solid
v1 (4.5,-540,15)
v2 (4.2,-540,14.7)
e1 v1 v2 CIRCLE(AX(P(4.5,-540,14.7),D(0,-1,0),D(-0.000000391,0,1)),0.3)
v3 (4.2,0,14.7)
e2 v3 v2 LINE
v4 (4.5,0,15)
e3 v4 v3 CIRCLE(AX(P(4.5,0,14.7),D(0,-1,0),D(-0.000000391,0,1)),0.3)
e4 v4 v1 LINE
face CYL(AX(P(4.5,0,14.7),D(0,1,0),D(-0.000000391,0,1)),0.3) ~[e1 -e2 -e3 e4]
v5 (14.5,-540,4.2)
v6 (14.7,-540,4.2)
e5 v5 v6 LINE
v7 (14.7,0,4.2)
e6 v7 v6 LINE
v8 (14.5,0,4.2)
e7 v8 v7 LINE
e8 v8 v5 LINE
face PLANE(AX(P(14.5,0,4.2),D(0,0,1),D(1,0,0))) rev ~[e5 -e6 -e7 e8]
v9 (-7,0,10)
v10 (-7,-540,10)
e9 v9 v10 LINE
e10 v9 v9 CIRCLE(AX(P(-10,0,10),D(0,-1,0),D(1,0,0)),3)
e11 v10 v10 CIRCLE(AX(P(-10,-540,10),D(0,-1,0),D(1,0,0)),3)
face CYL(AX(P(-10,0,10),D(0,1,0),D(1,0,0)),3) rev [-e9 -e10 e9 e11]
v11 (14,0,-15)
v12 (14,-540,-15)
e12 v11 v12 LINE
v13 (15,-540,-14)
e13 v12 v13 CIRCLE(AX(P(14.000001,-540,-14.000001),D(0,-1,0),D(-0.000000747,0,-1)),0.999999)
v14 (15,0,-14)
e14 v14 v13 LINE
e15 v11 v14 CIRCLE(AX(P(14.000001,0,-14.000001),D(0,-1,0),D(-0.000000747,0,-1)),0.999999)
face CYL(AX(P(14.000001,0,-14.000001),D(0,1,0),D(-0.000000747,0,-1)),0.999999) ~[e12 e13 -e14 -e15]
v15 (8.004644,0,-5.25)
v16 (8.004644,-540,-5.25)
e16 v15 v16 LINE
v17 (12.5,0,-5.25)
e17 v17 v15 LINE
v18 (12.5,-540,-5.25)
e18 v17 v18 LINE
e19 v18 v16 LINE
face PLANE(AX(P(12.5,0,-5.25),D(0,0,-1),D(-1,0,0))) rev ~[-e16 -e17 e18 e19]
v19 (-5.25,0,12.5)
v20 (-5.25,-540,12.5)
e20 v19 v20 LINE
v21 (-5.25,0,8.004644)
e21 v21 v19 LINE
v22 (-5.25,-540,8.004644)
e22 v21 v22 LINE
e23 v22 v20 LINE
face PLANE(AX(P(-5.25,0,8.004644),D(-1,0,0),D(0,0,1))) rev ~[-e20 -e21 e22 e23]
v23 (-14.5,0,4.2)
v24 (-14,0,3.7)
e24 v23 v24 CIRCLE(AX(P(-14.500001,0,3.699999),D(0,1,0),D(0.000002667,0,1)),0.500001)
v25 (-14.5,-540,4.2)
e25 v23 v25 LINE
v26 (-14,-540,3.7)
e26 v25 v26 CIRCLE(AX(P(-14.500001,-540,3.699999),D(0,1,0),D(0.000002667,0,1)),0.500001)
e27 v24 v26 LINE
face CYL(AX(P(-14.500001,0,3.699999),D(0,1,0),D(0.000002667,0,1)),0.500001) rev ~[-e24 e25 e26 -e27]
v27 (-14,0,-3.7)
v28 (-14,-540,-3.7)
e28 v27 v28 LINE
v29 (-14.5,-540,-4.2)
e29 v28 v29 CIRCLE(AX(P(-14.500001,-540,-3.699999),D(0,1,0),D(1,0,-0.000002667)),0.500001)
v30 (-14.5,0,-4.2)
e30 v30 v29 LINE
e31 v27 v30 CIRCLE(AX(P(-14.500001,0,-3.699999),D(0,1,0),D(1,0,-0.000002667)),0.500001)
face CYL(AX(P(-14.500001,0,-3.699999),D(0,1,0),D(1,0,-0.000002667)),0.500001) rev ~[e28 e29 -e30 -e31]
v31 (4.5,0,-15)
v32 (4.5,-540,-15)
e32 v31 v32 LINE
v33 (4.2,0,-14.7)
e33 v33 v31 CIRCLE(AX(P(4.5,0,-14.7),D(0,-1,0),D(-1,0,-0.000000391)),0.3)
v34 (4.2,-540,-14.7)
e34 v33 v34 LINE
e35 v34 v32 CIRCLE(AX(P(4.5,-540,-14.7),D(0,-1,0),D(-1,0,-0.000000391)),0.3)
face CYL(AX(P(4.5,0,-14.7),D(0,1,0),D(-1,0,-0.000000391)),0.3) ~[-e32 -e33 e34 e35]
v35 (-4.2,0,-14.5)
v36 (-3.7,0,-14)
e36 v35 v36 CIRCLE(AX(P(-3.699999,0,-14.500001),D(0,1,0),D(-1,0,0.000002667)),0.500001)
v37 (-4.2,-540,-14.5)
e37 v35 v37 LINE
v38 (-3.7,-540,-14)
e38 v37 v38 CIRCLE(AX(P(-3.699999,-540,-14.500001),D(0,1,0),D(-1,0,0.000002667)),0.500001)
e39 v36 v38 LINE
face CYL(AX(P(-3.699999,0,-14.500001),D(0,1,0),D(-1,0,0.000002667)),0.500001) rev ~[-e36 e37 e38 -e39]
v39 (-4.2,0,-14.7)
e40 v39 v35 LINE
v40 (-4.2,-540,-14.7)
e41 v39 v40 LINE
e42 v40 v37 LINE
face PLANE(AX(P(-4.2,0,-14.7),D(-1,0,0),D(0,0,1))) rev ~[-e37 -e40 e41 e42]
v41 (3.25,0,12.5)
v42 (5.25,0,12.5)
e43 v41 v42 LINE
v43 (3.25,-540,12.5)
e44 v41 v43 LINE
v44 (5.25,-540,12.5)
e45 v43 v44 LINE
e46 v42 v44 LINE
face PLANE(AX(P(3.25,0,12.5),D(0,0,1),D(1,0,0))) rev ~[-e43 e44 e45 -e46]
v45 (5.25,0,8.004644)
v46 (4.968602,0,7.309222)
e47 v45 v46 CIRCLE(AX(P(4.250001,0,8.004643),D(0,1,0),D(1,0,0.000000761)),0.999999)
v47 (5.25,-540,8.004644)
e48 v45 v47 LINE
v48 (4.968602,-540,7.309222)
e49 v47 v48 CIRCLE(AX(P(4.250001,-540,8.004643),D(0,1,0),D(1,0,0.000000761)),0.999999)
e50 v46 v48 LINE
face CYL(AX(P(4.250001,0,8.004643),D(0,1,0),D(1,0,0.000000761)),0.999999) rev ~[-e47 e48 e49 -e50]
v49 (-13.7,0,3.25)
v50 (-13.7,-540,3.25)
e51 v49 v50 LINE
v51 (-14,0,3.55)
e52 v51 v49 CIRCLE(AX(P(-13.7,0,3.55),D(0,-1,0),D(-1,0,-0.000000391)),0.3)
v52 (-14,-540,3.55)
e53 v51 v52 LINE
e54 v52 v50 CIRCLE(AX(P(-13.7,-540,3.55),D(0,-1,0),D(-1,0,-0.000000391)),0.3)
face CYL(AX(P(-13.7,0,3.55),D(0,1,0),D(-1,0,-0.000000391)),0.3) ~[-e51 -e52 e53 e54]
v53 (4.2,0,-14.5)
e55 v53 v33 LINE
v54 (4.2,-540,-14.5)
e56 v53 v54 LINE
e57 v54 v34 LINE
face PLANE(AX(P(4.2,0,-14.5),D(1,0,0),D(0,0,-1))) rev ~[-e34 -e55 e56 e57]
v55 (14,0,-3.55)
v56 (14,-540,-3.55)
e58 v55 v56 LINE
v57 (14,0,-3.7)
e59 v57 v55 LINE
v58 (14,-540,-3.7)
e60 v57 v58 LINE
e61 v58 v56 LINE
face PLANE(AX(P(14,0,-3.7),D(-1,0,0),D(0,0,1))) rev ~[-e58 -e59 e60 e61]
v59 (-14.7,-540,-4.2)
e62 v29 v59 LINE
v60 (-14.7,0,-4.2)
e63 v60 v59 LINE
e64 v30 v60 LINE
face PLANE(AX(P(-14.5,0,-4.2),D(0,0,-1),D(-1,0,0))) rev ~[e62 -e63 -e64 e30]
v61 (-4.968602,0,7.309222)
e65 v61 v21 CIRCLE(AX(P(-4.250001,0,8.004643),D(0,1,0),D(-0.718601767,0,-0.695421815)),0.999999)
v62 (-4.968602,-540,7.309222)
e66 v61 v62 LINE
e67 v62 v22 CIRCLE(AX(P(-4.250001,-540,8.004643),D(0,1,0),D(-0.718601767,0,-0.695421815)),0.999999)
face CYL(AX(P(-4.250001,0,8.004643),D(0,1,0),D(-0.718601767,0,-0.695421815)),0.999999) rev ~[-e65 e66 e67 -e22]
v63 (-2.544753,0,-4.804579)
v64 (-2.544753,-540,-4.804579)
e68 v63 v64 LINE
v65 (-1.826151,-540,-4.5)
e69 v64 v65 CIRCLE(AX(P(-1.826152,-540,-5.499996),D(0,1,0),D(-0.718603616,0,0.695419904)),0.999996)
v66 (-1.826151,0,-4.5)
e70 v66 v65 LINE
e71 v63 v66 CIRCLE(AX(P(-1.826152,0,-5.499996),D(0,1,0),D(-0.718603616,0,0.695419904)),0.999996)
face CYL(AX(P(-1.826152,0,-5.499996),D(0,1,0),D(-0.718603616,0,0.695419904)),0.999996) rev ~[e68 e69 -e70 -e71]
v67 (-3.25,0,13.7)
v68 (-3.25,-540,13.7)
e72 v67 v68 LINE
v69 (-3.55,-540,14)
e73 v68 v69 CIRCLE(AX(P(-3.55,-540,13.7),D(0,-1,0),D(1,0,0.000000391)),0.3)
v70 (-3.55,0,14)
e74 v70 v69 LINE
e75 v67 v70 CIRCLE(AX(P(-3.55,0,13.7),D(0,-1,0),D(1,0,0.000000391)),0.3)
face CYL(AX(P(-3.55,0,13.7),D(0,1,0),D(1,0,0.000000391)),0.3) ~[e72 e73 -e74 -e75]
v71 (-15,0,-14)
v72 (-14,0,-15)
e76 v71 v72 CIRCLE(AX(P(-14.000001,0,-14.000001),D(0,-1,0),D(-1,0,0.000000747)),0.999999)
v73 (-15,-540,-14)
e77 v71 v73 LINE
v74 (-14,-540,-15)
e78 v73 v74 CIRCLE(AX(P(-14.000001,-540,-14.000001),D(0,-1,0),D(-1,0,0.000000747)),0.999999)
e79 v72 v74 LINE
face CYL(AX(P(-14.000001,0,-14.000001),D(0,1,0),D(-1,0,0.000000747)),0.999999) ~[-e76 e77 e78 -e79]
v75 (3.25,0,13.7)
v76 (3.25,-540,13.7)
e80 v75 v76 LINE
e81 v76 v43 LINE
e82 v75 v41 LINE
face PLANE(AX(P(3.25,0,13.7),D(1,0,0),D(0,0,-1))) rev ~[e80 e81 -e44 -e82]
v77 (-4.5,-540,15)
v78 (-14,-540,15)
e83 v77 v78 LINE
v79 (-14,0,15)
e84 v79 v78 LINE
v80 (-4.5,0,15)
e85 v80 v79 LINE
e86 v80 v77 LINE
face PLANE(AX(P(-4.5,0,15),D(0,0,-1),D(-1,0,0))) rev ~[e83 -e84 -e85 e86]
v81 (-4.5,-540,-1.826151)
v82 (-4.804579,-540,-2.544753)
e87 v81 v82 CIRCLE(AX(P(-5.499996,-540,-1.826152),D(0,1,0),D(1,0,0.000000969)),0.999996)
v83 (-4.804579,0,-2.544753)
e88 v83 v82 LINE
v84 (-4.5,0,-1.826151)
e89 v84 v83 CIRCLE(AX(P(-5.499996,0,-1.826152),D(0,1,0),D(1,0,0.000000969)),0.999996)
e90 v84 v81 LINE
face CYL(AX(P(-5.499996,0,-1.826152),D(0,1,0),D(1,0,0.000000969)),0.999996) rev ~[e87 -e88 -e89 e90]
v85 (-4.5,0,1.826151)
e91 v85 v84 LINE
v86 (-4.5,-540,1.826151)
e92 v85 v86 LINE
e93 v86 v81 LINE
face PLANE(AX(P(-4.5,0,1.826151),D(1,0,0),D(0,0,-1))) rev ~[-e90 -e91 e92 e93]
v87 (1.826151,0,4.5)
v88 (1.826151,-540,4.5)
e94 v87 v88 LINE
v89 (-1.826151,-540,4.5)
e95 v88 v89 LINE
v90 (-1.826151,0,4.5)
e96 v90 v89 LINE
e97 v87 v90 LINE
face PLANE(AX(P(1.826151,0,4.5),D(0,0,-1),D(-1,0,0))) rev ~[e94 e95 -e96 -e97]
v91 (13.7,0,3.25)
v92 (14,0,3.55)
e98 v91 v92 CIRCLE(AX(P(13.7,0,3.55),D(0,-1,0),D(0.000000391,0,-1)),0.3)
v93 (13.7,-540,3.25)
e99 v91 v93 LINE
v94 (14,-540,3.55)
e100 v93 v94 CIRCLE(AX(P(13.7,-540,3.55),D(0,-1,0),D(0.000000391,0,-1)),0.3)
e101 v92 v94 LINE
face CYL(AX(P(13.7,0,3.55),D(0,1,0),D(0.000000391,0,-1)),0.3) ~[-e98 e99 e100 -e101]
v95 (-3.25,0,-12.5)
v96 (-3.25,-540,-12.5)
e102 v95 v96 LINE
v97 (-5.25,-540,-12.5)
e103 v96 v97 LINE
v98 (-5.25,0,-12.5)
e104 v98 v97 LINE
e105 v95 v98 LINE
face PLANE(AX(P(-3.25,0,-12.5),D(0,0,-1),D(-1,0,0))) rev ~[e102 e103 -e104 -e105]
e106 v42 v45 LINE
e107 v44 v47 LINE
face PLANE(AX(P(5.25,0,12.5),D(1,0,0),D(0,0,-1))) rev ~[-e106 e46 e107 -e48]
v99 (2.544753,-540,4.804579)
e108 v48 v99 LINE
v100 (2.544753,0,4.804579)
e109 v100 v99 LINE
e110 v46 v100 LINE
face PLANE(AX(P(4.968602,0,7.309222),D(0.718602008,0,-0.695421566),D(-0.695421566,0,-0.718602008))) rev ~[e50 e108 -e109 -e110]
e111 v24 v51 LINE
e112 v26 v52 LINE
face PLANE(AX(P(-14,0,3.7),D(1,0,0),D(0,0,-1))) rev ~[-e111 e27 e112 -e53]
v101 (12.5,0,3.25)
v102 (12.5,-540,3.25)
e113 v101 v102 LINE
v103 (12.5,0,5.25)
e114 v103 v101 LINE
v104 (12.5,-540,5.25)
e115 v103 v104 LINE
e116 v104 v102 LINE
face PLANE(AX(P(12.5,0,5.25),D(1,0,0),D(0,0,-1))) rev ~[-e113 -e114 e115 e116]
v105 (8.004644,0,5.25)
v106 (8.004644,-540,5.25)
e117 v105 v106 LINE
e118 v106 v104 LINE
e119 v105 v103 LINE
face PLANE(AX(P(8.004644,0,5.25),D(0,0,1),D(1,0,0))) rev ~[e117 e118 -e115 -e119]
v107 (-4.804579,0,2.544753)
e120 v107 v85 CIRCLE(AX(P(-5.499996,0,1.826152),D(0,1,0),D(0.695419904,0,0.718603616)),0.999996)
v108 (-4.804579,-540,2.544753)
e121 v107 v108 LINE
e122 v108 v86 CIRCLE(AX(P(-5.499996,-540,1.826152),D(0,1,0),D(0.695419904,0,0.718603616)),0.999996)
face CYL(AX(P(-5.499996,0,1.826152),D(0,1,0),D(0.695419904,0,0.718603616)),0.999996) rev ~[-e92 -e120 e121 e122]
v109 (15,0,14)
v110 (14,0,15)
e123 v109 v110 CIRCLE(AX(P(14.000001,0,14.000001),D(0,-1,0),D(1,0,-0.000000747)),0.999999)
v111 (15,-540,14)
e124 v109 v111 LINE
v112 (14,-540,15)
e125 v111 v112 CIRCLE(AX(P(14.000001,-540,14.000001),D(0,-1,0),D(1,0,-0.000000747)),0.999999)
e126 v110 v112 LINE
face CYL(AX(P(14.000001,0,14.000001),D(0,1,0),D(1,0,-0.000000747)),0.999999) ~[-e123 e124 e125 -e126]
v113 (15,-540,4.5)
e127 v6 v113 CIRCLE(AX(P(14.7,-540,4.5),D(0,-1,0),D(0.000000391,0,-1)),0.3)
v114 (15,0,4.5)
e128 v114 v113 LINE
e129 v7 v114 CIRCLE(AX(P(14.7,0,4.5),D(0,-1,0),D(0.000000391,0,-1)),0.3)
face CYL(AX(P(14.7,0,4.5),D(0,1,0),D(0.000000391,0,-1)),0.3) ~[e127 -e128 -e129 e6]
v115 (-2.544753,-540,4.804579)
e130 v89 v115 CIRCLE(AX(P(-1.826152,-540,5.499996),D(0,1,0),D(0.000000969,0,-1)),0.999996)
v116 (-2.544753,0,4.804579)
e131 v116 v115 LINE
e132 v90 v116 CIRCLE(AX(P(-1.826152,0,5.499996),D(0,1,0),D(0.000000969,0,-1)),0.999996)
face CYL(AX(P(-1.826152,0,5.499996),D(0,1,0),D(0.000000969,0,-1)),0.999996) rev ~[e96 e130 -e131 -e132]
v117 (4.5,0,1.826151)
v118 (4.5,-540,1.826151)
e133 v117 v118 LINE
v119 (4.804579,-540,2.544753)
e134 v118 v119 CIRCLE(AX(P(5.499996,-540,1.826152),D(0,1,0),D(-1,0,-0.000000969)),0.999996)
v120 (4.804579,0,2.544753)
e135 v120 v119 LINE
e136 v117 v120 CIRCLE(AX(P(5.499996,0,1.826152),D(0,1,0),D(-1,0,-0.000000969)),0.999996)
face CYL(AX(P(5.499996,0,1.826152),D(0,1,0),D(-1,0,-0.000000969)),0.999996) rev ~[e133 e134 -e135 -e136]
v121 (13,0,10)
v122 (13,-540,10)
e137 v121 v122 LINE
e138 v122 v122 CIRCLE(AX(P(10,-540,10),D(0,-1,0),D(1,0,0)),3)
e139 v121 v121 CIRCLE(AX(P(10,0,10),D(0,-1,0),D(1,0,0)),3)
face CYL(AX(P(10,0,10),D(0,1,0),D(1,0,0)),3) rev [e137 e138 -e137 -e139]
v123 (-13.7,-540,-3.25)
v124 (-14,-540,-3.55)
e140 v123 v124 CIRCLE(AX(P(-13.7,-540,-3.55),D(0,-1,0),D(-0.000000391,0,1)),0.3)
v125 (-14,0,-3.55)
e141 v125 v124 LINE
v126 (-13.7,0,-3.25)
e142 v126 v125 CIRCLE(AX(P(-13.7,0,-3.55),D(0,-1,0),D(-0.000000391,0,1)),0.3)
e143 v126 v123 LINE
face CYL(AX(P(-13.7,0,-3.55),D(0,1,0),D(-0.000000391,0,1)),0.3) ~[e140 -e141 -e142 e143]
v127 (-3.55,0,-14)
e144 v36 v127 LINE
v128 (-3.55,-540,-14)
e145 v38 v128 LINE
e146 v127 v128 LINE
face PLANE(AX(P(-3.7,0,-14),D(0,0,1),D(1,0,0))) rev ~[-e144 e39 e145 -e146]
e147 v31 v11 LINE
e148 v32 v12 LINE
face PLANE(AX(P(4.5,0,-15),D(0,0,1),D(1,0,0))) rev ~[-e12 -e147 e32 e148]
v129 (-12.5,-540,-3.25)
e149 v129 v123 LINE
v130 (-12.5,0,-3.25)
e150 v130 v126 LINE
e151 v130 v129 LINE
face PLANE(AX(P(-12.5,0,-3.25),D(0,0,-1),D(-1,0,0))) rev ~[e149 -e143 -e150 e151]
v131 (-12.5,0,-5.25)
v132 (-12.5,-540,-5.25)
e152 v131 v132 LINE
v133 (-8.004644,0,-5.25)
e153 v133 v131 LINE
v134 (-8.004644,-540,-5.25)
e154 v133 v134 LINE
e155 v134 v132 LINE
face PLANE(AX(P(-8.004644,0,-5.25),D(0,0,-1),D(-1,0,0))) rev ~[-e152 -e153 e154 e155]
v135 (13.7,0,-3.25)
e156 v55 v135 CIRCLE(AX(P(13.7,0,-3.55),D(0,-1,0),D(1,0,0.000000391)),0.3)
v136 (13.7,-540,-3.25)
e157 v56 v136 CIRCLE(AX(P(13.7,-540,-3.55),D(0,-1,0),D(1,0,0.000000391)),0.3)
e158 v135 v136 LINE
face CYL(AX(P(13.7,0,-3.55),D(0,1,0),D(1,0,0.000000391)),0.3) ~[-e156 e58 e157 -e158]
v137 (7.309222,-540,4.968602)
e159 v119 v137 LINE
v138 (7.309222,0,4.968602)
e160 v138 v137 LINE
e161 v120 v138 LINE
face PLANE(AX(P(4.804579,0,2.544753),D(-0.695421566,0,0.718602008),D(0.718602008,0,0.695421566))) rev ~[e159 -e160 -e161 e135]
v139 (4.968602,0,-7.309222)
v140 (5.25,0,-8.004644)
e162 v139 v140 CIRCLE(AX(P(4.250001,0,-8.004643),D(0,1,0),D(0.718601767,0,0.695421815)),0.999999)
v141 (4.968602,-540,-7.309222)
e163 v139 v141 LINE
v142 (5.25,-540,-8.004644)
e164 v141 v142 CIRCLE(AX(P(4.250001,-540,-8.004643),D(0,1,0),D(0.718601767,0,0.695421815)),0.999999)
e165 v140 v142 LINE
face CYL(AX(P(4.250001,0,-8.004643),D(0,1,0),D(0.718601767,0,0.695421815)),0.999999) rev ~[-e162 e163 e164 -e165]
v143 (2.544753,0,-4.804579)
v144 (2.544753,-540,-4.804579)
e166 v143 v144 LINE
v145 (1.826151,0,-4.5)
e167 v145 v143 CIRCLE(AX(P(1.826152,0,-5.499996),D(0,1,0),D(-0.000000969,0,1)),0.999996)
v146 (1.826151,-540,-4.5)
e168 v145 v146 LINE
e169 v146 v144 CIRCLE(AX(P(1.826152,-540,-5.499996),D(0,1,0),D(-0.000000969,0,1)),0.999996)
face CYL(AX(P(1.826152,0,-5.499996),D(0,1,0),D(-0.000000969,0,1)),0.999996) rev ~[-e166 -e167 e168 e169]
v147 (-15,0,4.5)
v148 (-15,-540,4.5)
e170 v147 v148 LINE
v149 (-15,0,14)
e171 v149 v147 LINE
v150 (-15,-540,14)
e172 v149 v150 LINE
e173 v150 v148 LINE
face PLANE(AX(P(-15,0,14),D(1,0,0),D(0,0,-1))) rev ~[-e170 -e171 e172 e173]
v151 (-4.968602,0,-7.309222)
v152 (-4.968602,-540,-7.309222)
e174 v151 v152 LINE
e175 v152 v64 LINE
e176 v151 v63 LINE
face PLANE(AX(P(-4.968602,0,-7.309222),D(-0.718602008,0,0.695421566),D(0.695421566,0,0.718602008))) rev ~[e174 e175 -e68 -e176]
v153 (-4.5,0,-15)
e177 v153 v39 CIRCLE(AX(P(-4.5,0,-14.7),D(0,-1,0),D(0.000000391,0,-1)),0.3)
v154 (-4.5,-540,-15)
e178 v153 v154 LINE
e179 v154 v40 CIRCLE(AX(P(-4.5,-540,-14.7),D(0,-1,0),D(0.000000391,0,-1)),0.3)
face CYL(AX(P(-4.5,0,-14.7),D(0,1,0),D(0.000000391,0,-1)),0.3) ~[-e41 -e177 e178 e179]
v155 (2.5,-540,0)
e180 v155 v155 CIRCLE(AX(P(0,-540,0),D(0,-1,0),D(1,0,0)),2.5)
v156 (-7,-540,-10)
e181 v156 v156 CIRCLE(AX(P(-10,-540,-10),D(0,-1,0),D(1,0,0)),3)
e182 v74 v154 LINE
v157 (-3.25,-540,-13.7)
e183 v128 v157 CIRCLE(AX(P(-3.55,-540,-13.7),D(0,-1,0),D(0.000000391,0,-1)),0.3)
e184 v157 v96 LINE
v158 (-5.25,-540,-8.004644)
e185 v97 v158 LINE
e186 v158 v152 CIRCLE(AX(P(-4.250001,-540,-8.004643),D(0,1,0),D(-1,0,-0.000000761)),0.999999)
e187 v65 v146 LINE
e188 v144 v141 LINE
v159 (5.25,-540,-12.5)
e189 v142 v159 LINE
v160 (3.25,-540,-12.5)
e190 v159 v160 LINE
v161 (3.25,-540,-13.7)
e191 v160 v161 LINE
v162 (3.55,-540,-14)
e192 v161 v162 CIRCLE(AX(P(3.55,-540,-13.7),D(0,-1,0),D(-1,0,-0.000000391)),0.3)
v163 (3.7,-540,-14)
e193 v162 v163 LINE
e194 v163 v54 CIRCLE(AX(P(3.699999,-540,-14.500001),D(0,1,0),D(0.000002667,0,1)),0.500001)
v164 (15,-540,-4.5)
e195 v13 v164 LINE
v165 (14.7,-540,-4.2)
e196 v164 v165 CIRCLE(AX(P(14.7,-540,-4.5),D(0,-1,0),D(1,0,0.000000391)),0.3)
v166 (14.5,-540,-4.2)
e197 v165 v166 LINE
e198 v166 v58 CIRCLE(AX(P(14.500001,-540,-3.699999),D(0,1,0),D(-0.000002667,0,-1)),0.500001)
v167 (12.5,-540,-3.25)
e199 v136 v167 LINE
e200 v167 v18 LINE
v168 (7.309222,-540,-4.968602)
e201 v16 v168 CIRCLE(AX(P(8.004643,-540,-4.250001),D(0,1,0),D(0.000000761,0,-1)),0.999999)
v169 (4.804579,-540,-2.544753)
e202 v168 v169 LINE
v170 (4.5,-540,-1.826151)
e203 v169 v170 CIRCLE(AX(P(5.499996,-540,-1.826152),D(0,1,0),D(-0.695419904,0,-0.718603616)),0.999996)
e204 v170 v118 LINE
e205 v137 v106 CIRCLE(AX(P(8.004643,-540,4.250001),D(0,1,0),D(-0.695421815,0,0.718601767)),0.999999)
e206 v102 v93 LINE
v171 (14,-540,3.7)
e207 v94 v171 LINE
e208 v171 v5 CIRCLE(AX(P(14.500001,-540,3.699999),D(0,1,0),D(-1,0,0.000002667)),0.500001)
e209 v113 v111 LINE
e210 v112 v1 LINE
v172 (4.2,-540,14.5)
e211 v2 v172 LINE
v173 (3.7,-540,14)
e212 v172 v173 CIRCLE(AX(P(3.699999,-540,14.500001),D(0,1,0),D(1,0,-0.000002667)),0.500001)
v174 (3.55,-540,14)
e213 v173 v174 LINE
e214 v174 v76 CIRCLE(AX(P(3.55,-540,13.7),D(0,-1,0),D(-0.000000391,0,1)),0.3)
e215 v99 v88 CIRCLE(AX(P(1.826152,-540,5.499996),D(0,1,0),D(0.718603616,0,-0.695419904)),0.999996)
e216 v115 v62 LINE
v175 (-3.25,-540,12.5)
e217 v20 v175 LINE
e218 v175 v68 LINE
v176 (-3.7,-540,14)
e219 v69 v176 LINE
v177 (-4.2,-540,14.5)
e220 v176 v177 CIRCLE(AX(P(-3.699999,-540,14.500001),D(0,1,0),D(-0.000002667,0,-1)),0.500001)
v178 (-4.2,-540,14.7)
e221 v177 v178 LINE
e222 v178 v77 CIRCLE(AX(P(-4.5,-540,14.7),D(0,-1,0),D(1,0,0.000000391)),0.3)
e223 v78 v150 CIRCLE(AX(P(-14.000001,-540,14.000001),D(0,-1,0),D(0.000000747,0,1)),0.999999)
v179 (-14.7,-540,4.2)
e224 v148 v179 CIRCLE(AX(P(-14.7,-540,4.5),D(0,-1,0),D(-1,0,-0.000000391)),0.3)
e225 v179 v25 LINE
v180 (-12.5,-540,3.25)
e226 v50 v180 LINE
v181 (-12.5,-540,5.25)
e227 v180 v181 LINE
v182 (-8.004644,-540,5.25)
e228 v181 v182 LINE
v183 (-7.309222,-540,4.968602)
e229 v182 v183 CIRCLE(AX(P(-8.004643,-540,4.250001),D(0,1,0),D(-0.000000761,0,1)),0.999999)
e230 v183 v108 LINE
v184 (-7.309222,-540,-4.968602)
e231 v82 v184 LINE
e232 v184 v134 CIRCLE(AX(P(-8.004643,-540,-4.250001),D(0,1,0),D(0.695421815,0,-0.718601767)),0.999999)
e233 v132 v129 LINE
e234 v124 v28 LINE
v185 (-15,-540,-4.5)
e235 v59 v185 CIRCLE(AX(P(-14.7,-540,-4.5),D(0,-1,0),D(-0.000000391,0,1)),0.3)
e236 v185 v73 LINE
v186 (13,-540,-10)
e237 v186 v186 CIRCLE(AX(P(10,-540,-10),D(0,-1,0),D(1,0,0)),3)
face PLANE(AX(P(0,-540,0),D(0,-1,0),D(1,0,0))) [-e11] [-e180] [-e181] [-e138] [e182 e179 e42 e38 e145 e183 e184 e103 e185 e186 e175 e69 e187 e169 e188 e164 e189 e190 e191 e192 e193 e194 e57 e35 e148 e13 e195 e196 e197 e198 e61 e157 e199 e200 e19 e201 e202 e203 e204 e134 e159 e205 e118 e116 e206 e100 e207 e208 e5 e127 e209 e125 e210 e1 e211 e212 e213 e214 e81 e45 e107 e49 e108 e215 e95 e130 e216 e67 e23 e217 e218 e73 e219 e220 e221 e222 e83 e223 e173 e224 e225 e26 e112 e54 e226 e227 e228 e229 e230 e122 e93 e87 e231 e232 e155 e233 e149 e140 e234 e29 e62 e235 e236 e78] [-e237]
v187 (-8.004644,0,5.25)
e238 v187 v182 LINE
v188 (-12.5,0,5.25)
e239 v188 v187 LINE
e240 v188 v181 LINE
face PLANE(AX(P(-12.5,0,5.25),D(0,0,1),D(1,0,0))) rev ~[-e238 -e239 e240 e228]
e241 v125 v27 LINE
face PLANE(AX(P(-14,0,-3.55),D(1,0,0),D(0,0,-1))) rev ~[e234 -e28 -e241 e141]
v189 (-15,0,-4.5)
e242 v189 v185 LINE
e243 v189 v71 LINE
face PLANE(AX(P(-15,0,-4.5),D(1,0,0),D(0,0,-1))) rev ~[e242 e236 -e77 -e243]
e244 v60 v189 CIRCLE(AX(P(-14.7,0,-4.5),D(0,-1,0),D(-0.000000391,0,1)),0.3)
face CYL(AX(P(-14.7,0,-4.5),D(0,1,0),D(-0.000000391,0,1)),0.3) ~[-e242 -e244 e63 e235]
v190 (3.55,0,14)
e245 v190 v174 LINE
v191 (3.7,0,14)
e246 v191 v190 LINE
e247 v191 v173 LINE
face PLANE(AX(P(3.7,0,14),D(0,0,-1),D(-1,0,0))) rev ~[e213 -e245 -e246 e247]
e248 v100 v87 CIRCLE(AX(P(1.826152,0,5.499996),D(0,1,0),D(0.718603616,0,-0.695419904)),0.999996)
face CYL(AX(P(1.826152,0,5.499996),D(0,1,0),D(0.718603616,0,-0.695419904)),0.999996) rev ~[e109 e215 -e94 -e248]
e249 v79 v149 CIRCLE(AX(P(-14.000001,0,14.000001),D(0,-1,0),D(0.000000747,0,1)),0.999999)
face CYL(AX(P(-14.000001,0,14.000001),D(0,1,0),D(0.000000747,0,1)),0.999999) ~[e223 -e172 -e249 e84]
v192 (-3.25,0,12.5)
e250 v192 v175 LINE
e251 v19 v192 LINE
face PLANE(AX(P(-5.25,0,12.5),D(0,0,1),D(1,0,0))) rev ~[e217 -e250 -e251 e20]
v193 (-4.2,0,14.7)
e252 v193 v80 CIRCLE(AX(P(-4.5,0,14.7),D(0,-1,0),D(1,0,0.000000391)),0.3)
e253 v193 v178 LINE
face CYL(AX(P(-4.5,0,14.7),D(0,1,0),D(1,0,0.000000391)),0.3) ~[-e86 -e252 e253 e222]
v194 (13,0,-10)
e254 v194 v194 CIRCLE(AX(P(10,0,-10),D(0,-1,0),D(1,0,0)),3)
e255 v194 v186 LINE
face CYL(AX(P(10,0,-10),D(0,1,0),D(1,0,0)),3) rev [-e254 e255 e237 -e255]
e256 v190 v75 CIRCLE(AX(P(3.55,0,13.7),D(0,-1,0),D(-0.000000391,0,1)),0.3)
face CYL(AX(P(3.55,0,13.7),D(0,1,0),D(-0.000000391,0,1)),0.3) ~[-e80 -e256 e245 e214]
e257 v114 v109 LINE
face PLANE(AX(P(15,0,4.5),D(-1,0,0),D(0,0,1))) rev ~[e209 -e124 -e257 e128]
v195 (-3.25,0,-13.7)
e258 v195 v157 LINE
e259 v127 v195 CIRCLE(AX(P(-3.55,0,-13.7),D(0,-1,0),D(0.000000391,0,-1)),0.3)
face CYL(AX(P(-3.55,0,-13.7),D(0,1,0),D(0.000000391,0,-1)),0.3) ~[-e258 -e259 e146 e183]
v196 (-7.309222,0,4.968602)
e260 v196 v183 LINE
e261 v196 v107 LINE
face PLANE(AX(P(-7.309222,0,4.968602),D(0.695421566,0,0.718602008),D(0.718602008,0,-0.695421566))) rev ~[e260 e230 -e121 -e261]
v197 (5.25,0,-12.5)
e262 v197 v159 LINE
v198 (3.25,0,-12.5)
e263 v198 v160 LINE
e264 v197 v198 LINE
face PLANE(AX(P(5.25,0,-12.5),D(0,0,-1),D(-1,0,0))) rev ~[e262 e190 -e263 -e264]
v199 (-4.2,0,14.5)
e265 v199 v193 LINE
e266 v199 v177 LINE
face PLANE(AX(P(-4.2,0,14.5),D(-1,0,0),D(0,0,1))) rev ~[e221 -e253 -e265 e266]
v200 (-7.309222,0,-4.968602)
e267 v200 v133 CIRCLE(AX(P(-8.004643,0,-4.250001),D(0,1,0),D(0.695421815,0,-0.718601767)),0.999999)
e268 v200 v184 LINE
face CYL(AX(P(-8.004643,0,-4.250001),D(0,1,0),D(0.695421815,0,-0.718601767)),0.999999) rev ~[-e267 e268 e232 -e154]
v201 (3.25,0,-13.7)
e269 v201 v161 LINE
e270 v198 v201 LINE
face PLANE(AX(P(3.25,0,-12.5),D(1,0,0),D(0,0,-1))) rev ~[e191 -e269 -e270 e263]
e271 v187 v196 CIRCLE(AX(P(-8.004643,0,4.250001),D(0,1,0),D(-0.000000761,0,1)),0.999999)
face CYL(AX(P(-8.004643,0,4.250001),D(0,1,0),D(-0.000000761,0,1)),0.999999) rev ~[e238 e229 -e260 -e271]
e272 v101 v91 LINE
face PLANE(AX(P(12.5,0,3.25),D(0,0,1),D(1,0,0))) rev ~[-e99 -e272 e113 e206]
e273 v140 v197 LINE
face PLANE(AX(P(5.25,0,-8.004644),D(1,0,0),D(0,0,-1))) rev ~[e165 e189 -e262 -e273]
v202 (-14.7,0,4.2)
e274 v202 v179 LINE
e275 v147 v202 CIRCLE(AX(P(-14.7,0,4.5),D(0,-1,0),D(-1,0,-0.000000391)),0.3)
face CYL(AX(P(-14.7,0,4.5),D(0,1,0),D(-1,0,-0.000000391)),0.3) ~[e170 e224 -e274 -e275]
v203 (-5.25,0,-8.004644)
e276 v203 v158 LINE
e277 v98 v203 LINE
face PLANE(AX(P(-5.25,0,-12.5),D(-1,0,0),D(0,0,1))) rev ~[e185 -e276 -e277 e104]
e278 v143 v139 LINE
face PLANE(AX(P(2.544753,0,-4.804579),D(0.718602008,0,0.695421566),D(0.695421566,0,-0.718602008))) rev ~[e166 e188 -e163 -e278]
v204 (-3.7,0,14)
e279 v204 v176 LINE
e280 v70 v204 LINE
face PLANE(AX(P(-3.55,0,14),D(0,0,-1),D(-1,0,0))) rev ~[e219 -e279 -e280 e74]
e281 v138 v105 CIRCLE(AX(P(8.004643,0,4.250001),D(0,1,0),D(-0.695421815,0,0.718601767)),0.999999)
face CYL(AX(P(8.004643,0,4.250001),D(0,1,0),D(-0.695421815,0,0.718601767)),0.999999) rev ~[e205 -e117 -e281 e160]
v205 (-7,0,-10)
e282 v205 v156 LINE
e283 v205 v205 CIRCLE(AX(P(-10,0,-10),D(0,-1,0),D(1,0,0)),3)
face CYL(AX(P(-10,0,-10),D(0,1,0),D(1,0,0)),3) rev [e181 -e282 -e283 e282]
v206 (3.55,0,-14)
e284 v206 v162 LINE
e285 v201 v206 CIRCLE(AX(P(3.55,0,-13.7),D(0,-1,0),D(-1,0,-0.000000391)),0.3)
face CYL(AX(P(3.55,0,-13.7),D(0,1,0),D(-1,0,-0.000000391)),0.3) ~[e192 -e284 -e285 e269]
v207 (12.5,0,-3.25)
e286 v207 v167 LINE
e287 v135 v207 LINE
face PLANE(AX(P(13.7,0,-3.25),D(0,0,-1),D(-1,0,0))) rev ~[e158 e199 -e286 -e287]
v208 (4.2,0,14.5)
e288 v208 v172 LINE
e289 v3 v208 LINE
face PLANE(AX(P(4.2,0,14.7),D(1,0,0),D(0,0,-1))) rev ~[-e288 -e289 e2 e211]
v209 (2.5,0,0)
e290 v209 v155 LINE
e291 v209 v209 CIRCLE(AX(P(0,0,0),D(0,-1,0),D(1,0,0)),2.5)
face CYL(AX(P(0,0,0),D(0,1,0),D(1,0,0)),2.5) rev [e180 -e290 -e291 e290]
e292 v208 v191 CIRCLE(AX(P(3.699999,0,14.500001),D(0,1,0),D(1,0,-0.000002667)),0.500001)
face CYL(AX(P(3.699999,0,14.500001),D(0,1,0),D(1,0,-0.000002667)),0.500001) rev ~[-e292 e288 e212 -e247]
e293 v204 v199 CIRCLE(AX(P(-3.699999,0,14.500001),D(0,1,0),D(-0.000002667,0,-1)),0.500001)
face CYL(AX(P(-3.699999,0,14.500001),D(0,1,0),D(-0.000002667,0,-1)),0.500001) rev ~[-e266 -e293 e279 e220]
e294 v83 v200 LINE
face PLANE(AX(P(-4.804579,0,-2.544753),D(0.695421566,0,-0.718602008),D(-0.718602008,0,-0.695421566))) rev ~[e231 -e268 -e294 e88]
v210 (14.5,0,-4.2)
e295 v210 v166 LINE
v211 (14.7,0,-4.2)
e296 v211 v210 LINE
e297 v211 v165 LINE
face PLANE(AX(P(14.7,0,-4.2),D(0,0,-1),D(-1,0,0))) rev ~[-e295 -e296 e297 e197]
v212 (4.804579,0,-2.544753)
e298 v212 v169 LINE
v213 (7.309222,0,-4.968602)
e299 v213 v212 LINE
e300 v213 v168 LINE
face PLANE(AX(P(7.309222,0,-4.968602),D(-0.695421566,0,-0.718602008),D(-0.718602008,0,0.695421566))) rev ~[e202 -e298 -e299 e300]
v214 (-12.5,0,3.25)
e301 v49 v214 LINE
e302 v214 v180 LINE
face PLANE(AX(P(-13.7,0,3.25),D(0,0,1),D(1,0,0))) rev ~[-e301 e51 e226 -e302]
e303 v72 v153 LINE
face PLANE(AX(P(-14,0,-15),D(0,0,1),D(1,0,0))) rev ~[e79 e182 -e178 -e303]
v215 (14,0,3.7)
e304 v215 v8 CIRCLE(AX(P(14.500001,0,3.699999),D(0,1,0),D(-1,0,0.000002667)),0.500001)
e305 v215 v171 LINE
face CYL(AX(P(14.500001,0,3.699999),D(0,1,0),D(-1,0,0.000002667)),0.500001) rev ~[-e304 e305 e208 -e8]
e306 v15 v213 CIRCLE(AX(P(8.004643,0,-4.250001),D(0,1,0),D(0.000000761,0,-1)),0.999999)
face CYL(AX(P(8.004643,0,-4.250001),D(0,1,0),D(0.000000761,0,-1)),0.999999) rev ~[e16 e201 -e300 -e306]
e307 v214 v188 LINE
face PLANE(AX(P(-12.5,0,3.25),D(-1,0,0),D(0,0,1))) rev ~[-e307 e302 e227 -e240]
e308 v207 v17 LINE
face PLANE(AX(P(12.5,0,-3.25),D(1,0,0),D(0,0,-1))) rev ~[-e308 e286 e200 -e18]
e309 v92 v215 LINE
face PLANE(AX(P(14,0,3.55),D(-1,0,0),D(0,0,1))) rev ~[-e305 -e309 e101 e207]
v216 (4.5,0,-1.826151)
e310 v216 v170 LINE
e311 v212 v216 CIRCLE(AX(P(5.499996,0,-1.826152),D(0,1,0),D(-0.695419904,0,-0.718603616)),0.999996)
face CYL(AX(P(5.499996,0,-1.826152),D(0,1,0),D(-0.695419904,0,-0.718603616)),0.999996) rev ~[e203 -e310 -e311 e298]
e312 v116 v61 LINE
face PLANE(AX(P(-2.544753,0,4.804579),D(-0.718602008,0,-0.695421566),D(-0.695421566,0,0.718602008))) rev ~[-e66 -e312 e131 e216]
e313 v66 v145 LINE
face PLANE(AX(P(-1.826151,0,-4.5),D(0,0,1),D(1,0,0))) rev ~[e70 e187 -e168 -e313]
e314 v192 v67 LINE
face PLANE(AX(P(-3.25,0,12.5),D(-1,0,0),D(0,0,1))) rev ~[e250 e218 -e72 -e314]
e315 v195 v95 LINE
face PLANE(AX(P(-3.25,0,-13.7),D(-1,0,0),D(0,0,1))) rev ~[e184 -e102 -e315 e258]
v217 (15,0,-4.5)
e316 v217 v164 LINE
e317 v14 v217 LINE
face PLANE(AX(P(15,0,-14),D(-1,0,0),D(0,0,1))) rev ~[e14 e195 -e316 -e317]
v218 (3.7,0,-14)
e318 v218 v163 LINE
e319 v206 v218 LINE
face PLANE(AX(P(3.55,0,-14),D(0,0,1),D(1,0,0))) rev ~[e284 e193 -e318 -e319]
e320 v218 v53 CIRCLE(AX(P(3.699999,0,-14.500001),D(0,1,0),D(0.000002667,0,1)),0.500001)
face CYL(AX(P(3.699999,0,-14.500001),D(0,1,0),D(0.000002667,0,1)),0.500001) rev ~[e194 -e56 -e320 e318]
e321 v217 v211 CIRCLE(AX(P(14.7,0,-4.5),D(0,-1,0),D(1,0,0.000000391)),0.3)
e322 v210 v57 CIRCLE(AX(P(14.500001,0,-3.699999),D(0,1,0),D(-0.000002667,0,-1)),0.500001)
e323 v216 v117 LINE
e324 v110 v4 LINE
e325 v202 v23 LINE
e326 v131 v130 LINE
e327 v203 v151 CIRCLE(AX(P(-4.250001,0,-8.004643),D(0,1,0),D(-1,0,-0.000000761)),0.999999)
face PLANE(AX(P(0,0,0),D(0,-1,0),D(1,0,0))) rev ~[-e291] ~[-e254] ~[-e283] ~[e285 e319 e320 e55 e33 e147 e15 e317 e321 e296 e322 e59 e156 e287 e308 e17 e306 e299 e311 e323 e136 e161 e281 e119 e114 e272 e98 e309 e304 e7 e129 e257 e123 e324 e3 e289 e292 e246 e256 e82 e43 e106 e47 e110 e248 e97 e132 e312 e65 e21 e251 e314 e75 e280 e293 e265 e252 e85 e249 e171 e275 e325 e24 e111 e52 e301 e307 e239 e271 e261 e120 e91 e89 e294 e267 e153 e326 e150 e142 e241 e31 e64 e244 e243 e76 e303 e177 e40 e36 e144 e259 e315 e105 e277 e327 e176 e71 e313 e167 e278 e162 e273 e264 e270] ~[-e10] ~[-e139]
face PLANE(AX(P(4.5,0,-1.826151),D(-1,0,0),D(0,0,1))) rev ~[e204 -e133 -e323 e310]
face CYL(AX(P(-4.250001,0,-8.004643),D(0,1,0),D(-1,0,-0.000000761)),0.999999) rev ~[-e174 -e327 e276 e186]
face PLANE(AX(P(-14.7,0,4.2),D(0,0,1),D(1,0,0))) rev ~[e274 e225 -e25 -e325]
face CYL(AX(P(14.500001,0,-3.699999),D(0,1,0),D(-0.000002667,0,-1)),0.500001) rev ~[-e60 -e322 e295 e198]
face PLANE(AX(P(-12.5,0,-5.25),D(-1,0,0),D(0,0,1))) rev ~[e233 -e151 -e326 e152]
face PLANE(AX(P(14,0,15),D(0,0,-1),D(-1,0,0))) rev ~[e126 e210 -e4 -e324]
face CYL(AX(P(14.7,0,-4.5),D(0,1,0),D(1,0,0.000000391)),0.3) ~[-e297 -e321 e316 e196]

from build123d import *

# Parameters (mm, degrees)
F0_R     = 3
F0_R_2   = 2.5
F1_DEPTH = 540


with BuildPart() as f1:
    # F0 (on Front) → F1 (new body)
    with BuildSketch(Plane.XZ):
        with BuildLine():
            Line((-4.5, 15), (-14, 15))
            ThreePointArc((-14, 15), (-14.707107, 14.707107), (-15, 14))
            Line((-15, 14), (-15, 4.5))
            ThreePointArc((-15, 4.5), (-14.912132, 4.287868), (-14.7, 4.2))
            Line((-14.7, 4.2), (-14.5, 4.2))
            ThreePointArc((-14.5, 4.2), (-14.146447, 4.053553), (-14, 3.7))
            Line((-14, 3.7), (-14, 3.55))
            ThreePointArc((-14, 3.55), (-13.912132, 3.337868), (-13.7, 3.25))
            Line((-13.7, 3.25), (-12.5, 3.25))
            Line((-12.5, 3.25), (-12.5, 5.25))
            Line((-12.5, 5.25), (-8.004644, 5.25))
            ThreePointArc((-8.004644, 5.25), (-7.629545, 5.176985), (-7.309222, 4.968602))
            Line((-7.309222, 4.968602), (-4.804579, 2.544753))
            ThreePointArc((-4.804579, 2.544753), (-4.579288, 2.216394), (-4.5, 1.826151))
            Line((-4.5, 1.826151), (-4.5, -1.826151))
            ThreePointArc((-4.5, -1.826151), (-4.579288, -2.216394), (-4.804579, -2.544753))
            Line((-4.804579, -2.544753), (-7.309222, -4.968602))
            ThreePointArc((-7.309222, -4.968602), (-7.629545, -5.176985), (-8.004644, -5.25))
            Line((-8.004644, -5.25), (-12.5, -5.25))
            Line((-12.5, -5.25), (-12.5, -3.25))
            Line((-12.5, -3.25), (-13.7, -3.25))
            ThreePointArc((-13.7, -3.25), (-13.912132, -3.337868), (-14, -3.55))
            Line((-14, -3.55), (-14, -3.7))
            ThreePointArc((-14, -3.7), (-14.146447, -4.053553), (-14.5, -4.2))
            Line((-14.5, -4.2), (-14.7, -4.2))
            ThreePointArc((-14.7, -4.2), (-14.912132, -4.287868), (-15, -4.5))
            Line((-15, -4.5), (-15, -14))
            ThreePointArc((-15, -14), (-14.707107, -14.707107), (-14, -15))
            Line((-14, -15), (-4.5, -15))
            ThreePointArc((-4.5, -15), (-4.287868, -14.912132), (-4.2, -14.7))
            Line((-4.2, -14.7), (-4.2, -14.5))
            ThreePointArc((-4.2, -14.5), (-4.053553, -14.146447), (-3.7, -14))
            Line((-3.7, -14), (-3.55, -14))
            ThreePointArc((-3.55, -14), (-3.337868, -13.912132), (-3.25, -13.7))
            Line((-3.25, -13.7), (-3.25, -12.5))
            Line((-3.25, -12.5), (-5.25, -12.5))
            Line((-5.25, -12.5), (-5.25, -8.004644))
            ThreePointArc((-5.25, -8.004644), (-5.176985, -7.629545), (-4.968602, -7.309222))
            Line((-4.968602, -7.309222), (-2.544753, -4.804579))
            ThreePointArc((-2.544753, -4.804579), (-2.216394, -4.579288), (-1.826151, -4.5))
            Line((-1.826151, -4.5), (1.826151, -4.5))
            ThreePointArc((1.826151, -4.5), (2.216394, -4.579288), (2.544753, -4.804579))
            Line((2.544753, -4.804579), (4.968602, -7.309222))
            ThreePointArc((4.968602, -7.309222), (5.176985, -7.629545), (5.25, -8.004644))
            Line((5.25, -8.004644), (5.25, -12.5))
            Line((5.25, -12.5), (3.25, -12.5))
            Line((3.25, -12.5), (3.25, -13.7))
            ThreePointArc((3.25, -13.7), (3.337868, -13.912132), (3.55, -14))
            Line((3.55, -14), (3.7, -14))
            ThreePointArc((3.7, -14), (4.053553, -14.146447), (4.2, -14.5))
            Line((4.2, -14.5), (4.2, -14.7))
            ThreePointArc((4.2, -14.7), (4.287868, -14.912132), (4.5, -15))
            Line((4.5, -15), (14, -15))
            ThreePointArc((14, -15), (14.707107, -14.707107), (15, -14))
            Line((15, -14), (15, -4.5))
            ThreePointArc((15, -4.5), (14.912132, -4.287868), (14.7, -4.2))
            Line((14.7, -4.2), (14.5, -4.2))
            ThreePointArc((14.5, -4.2), (14.146447, -4.053553), (14, -3.7))
            Line((14, -3.7), (14, -3.55))
            ThreePointArc((14, -3.55), (13.912132, -3.337868), (13.7, -3.25))
            Line((13.7, -3.25), (12.5, -3.25))
            Line((12.5, -3.25), (12.5, -5.25))
            Line((12.5, -5.25), (8.004644, -5.25))
            ThreePointArc((8.004644, -5.25), (7.629545, -5.176985), (7.309222, -4.968602))
            Line((7.309222, -4.968602), (4.804579, -2.544753))
            ThreePointArc((4.804579, -2.544753), (4.579288, -2.216394), (4.5, -1.826151))
            Line((4.5, -1.826151), (4.5, 1.826151))
            ThreePointArc((4.5, 1.826151), (4.579288, 2.216394), (4.804579, 2.544753))
            Line((4.804579, 2.544753), (7.309222, 4.968602))
            ThreePointArc((7.309222, 4.968602), (7.629545, 5.176985), (8.004644, 5.25))
            Line((8.004644, 5.25), (12.5, 5.25))
            Line((12.5, 5.25), (12.5, 3.25))
            Line((12.5, 3.25), (13.7, 3.25))
            ThreePointArc((13.7, 3.25), (13.912132, 3.337868), (14, 3.55))
            Line((14, 3.55), (14, 3.7))
            ThreePointArc((14, 3.7), (14.146447, 4.053553), (14.5, 4.2))
            Line((14.5, 4.2), (14.7, 4.2))
            ThreePointArc((14.7, 4.2), (14.912132, 4.287868), (15, 4.5))
            Line((15, 4.5), (15, 14))
            ThreePointArc((15, 14), (14.707107, 14.707107), (14, 15))
            Line((14, 15), (4.5, 15))
            ThreePointArc((4.5, 15), (4.287868, 14.912132), (4.2, 14.7))
            Line((4.2, 14.7), (4.2, 14.5))
            ThreePointArc((4.2, 14.5), (4.053553, 14.146447), (3.7, 14))
            Line((3.7, 14), (3.55, 14))
            ThreePointArc((3.55, 14), (3.337868, 13.912132), (3.25, 13.7))
            Line((3.25, 13.7), (3.25, 12.5))
            Line((3.25, 12.5), (5.25, 12.5))
            Line((5.25, 12.5), (5.25, 8.004644))
            ThreePointArc((5.25, 8.004644), (5.176985, 7.629545), (4.968602, 7.309222))
            Line((4.968602, 7.309222), (2.544753, 4.804579))
            ThreePointArc((2.544753, 4.804579), (2.216394, 4.579288), (1.826151, 4.5))
            Line((1.826151, 4.5), (-1.826151, 4.5))
            ThreePointArc((-1.826151, 4.5), (-2.216394, 4.579288), (-2.544753, 4.804579))
            Line((-2.544753, 4.804579), (-4.968602, 7.309222))
            ThreePointArc((-4.968602, 7.309222), (-5.176985, 7.629545), (-5.25, 8.004644))
            Line((-5.25, 8.004644), (-5.25, 12.5))
            Line((-5.25, 12.5), (-3.25, 12.5))
            Line((-3.25, 12.5), (-3.25, 13.7))
            ThreePointArc((-3.25, 13.7), (-3.337868, 13.912132), (-3.55, 14))
            Line((-3.55, 14), (-3.7, 14))
            ThreePointArc((-3.7, 14), (-4.053553, 14.146447), (-4.2, 14.5))
            Line((-4.2, 14.5), (-4.2, 14.7))
            ThreePointArc((-4.2, 14.7), (-4.287868, 14.912132), (-4.5, 15))
        make_face()
        with Locations((-10, -10)):
            Circle(F0_R, mode=Mode.SUBTRACT)
        with Locations((10, -10)):
            Circle(F0_R, mode=Mode.SUBTRACT)
        with Locations((-10, 10)):
            Circle(F0_R, mode=Mode.SUBTRACT)
        Circle(F0_R_2, mode=Mode.SUBTRACT)
        with Locations((10, 10)):
            Circle(F0_R, mode=Mode.SUBTRACT)
    extrude(amount=F1_DEPTH)


solid = f1.part
